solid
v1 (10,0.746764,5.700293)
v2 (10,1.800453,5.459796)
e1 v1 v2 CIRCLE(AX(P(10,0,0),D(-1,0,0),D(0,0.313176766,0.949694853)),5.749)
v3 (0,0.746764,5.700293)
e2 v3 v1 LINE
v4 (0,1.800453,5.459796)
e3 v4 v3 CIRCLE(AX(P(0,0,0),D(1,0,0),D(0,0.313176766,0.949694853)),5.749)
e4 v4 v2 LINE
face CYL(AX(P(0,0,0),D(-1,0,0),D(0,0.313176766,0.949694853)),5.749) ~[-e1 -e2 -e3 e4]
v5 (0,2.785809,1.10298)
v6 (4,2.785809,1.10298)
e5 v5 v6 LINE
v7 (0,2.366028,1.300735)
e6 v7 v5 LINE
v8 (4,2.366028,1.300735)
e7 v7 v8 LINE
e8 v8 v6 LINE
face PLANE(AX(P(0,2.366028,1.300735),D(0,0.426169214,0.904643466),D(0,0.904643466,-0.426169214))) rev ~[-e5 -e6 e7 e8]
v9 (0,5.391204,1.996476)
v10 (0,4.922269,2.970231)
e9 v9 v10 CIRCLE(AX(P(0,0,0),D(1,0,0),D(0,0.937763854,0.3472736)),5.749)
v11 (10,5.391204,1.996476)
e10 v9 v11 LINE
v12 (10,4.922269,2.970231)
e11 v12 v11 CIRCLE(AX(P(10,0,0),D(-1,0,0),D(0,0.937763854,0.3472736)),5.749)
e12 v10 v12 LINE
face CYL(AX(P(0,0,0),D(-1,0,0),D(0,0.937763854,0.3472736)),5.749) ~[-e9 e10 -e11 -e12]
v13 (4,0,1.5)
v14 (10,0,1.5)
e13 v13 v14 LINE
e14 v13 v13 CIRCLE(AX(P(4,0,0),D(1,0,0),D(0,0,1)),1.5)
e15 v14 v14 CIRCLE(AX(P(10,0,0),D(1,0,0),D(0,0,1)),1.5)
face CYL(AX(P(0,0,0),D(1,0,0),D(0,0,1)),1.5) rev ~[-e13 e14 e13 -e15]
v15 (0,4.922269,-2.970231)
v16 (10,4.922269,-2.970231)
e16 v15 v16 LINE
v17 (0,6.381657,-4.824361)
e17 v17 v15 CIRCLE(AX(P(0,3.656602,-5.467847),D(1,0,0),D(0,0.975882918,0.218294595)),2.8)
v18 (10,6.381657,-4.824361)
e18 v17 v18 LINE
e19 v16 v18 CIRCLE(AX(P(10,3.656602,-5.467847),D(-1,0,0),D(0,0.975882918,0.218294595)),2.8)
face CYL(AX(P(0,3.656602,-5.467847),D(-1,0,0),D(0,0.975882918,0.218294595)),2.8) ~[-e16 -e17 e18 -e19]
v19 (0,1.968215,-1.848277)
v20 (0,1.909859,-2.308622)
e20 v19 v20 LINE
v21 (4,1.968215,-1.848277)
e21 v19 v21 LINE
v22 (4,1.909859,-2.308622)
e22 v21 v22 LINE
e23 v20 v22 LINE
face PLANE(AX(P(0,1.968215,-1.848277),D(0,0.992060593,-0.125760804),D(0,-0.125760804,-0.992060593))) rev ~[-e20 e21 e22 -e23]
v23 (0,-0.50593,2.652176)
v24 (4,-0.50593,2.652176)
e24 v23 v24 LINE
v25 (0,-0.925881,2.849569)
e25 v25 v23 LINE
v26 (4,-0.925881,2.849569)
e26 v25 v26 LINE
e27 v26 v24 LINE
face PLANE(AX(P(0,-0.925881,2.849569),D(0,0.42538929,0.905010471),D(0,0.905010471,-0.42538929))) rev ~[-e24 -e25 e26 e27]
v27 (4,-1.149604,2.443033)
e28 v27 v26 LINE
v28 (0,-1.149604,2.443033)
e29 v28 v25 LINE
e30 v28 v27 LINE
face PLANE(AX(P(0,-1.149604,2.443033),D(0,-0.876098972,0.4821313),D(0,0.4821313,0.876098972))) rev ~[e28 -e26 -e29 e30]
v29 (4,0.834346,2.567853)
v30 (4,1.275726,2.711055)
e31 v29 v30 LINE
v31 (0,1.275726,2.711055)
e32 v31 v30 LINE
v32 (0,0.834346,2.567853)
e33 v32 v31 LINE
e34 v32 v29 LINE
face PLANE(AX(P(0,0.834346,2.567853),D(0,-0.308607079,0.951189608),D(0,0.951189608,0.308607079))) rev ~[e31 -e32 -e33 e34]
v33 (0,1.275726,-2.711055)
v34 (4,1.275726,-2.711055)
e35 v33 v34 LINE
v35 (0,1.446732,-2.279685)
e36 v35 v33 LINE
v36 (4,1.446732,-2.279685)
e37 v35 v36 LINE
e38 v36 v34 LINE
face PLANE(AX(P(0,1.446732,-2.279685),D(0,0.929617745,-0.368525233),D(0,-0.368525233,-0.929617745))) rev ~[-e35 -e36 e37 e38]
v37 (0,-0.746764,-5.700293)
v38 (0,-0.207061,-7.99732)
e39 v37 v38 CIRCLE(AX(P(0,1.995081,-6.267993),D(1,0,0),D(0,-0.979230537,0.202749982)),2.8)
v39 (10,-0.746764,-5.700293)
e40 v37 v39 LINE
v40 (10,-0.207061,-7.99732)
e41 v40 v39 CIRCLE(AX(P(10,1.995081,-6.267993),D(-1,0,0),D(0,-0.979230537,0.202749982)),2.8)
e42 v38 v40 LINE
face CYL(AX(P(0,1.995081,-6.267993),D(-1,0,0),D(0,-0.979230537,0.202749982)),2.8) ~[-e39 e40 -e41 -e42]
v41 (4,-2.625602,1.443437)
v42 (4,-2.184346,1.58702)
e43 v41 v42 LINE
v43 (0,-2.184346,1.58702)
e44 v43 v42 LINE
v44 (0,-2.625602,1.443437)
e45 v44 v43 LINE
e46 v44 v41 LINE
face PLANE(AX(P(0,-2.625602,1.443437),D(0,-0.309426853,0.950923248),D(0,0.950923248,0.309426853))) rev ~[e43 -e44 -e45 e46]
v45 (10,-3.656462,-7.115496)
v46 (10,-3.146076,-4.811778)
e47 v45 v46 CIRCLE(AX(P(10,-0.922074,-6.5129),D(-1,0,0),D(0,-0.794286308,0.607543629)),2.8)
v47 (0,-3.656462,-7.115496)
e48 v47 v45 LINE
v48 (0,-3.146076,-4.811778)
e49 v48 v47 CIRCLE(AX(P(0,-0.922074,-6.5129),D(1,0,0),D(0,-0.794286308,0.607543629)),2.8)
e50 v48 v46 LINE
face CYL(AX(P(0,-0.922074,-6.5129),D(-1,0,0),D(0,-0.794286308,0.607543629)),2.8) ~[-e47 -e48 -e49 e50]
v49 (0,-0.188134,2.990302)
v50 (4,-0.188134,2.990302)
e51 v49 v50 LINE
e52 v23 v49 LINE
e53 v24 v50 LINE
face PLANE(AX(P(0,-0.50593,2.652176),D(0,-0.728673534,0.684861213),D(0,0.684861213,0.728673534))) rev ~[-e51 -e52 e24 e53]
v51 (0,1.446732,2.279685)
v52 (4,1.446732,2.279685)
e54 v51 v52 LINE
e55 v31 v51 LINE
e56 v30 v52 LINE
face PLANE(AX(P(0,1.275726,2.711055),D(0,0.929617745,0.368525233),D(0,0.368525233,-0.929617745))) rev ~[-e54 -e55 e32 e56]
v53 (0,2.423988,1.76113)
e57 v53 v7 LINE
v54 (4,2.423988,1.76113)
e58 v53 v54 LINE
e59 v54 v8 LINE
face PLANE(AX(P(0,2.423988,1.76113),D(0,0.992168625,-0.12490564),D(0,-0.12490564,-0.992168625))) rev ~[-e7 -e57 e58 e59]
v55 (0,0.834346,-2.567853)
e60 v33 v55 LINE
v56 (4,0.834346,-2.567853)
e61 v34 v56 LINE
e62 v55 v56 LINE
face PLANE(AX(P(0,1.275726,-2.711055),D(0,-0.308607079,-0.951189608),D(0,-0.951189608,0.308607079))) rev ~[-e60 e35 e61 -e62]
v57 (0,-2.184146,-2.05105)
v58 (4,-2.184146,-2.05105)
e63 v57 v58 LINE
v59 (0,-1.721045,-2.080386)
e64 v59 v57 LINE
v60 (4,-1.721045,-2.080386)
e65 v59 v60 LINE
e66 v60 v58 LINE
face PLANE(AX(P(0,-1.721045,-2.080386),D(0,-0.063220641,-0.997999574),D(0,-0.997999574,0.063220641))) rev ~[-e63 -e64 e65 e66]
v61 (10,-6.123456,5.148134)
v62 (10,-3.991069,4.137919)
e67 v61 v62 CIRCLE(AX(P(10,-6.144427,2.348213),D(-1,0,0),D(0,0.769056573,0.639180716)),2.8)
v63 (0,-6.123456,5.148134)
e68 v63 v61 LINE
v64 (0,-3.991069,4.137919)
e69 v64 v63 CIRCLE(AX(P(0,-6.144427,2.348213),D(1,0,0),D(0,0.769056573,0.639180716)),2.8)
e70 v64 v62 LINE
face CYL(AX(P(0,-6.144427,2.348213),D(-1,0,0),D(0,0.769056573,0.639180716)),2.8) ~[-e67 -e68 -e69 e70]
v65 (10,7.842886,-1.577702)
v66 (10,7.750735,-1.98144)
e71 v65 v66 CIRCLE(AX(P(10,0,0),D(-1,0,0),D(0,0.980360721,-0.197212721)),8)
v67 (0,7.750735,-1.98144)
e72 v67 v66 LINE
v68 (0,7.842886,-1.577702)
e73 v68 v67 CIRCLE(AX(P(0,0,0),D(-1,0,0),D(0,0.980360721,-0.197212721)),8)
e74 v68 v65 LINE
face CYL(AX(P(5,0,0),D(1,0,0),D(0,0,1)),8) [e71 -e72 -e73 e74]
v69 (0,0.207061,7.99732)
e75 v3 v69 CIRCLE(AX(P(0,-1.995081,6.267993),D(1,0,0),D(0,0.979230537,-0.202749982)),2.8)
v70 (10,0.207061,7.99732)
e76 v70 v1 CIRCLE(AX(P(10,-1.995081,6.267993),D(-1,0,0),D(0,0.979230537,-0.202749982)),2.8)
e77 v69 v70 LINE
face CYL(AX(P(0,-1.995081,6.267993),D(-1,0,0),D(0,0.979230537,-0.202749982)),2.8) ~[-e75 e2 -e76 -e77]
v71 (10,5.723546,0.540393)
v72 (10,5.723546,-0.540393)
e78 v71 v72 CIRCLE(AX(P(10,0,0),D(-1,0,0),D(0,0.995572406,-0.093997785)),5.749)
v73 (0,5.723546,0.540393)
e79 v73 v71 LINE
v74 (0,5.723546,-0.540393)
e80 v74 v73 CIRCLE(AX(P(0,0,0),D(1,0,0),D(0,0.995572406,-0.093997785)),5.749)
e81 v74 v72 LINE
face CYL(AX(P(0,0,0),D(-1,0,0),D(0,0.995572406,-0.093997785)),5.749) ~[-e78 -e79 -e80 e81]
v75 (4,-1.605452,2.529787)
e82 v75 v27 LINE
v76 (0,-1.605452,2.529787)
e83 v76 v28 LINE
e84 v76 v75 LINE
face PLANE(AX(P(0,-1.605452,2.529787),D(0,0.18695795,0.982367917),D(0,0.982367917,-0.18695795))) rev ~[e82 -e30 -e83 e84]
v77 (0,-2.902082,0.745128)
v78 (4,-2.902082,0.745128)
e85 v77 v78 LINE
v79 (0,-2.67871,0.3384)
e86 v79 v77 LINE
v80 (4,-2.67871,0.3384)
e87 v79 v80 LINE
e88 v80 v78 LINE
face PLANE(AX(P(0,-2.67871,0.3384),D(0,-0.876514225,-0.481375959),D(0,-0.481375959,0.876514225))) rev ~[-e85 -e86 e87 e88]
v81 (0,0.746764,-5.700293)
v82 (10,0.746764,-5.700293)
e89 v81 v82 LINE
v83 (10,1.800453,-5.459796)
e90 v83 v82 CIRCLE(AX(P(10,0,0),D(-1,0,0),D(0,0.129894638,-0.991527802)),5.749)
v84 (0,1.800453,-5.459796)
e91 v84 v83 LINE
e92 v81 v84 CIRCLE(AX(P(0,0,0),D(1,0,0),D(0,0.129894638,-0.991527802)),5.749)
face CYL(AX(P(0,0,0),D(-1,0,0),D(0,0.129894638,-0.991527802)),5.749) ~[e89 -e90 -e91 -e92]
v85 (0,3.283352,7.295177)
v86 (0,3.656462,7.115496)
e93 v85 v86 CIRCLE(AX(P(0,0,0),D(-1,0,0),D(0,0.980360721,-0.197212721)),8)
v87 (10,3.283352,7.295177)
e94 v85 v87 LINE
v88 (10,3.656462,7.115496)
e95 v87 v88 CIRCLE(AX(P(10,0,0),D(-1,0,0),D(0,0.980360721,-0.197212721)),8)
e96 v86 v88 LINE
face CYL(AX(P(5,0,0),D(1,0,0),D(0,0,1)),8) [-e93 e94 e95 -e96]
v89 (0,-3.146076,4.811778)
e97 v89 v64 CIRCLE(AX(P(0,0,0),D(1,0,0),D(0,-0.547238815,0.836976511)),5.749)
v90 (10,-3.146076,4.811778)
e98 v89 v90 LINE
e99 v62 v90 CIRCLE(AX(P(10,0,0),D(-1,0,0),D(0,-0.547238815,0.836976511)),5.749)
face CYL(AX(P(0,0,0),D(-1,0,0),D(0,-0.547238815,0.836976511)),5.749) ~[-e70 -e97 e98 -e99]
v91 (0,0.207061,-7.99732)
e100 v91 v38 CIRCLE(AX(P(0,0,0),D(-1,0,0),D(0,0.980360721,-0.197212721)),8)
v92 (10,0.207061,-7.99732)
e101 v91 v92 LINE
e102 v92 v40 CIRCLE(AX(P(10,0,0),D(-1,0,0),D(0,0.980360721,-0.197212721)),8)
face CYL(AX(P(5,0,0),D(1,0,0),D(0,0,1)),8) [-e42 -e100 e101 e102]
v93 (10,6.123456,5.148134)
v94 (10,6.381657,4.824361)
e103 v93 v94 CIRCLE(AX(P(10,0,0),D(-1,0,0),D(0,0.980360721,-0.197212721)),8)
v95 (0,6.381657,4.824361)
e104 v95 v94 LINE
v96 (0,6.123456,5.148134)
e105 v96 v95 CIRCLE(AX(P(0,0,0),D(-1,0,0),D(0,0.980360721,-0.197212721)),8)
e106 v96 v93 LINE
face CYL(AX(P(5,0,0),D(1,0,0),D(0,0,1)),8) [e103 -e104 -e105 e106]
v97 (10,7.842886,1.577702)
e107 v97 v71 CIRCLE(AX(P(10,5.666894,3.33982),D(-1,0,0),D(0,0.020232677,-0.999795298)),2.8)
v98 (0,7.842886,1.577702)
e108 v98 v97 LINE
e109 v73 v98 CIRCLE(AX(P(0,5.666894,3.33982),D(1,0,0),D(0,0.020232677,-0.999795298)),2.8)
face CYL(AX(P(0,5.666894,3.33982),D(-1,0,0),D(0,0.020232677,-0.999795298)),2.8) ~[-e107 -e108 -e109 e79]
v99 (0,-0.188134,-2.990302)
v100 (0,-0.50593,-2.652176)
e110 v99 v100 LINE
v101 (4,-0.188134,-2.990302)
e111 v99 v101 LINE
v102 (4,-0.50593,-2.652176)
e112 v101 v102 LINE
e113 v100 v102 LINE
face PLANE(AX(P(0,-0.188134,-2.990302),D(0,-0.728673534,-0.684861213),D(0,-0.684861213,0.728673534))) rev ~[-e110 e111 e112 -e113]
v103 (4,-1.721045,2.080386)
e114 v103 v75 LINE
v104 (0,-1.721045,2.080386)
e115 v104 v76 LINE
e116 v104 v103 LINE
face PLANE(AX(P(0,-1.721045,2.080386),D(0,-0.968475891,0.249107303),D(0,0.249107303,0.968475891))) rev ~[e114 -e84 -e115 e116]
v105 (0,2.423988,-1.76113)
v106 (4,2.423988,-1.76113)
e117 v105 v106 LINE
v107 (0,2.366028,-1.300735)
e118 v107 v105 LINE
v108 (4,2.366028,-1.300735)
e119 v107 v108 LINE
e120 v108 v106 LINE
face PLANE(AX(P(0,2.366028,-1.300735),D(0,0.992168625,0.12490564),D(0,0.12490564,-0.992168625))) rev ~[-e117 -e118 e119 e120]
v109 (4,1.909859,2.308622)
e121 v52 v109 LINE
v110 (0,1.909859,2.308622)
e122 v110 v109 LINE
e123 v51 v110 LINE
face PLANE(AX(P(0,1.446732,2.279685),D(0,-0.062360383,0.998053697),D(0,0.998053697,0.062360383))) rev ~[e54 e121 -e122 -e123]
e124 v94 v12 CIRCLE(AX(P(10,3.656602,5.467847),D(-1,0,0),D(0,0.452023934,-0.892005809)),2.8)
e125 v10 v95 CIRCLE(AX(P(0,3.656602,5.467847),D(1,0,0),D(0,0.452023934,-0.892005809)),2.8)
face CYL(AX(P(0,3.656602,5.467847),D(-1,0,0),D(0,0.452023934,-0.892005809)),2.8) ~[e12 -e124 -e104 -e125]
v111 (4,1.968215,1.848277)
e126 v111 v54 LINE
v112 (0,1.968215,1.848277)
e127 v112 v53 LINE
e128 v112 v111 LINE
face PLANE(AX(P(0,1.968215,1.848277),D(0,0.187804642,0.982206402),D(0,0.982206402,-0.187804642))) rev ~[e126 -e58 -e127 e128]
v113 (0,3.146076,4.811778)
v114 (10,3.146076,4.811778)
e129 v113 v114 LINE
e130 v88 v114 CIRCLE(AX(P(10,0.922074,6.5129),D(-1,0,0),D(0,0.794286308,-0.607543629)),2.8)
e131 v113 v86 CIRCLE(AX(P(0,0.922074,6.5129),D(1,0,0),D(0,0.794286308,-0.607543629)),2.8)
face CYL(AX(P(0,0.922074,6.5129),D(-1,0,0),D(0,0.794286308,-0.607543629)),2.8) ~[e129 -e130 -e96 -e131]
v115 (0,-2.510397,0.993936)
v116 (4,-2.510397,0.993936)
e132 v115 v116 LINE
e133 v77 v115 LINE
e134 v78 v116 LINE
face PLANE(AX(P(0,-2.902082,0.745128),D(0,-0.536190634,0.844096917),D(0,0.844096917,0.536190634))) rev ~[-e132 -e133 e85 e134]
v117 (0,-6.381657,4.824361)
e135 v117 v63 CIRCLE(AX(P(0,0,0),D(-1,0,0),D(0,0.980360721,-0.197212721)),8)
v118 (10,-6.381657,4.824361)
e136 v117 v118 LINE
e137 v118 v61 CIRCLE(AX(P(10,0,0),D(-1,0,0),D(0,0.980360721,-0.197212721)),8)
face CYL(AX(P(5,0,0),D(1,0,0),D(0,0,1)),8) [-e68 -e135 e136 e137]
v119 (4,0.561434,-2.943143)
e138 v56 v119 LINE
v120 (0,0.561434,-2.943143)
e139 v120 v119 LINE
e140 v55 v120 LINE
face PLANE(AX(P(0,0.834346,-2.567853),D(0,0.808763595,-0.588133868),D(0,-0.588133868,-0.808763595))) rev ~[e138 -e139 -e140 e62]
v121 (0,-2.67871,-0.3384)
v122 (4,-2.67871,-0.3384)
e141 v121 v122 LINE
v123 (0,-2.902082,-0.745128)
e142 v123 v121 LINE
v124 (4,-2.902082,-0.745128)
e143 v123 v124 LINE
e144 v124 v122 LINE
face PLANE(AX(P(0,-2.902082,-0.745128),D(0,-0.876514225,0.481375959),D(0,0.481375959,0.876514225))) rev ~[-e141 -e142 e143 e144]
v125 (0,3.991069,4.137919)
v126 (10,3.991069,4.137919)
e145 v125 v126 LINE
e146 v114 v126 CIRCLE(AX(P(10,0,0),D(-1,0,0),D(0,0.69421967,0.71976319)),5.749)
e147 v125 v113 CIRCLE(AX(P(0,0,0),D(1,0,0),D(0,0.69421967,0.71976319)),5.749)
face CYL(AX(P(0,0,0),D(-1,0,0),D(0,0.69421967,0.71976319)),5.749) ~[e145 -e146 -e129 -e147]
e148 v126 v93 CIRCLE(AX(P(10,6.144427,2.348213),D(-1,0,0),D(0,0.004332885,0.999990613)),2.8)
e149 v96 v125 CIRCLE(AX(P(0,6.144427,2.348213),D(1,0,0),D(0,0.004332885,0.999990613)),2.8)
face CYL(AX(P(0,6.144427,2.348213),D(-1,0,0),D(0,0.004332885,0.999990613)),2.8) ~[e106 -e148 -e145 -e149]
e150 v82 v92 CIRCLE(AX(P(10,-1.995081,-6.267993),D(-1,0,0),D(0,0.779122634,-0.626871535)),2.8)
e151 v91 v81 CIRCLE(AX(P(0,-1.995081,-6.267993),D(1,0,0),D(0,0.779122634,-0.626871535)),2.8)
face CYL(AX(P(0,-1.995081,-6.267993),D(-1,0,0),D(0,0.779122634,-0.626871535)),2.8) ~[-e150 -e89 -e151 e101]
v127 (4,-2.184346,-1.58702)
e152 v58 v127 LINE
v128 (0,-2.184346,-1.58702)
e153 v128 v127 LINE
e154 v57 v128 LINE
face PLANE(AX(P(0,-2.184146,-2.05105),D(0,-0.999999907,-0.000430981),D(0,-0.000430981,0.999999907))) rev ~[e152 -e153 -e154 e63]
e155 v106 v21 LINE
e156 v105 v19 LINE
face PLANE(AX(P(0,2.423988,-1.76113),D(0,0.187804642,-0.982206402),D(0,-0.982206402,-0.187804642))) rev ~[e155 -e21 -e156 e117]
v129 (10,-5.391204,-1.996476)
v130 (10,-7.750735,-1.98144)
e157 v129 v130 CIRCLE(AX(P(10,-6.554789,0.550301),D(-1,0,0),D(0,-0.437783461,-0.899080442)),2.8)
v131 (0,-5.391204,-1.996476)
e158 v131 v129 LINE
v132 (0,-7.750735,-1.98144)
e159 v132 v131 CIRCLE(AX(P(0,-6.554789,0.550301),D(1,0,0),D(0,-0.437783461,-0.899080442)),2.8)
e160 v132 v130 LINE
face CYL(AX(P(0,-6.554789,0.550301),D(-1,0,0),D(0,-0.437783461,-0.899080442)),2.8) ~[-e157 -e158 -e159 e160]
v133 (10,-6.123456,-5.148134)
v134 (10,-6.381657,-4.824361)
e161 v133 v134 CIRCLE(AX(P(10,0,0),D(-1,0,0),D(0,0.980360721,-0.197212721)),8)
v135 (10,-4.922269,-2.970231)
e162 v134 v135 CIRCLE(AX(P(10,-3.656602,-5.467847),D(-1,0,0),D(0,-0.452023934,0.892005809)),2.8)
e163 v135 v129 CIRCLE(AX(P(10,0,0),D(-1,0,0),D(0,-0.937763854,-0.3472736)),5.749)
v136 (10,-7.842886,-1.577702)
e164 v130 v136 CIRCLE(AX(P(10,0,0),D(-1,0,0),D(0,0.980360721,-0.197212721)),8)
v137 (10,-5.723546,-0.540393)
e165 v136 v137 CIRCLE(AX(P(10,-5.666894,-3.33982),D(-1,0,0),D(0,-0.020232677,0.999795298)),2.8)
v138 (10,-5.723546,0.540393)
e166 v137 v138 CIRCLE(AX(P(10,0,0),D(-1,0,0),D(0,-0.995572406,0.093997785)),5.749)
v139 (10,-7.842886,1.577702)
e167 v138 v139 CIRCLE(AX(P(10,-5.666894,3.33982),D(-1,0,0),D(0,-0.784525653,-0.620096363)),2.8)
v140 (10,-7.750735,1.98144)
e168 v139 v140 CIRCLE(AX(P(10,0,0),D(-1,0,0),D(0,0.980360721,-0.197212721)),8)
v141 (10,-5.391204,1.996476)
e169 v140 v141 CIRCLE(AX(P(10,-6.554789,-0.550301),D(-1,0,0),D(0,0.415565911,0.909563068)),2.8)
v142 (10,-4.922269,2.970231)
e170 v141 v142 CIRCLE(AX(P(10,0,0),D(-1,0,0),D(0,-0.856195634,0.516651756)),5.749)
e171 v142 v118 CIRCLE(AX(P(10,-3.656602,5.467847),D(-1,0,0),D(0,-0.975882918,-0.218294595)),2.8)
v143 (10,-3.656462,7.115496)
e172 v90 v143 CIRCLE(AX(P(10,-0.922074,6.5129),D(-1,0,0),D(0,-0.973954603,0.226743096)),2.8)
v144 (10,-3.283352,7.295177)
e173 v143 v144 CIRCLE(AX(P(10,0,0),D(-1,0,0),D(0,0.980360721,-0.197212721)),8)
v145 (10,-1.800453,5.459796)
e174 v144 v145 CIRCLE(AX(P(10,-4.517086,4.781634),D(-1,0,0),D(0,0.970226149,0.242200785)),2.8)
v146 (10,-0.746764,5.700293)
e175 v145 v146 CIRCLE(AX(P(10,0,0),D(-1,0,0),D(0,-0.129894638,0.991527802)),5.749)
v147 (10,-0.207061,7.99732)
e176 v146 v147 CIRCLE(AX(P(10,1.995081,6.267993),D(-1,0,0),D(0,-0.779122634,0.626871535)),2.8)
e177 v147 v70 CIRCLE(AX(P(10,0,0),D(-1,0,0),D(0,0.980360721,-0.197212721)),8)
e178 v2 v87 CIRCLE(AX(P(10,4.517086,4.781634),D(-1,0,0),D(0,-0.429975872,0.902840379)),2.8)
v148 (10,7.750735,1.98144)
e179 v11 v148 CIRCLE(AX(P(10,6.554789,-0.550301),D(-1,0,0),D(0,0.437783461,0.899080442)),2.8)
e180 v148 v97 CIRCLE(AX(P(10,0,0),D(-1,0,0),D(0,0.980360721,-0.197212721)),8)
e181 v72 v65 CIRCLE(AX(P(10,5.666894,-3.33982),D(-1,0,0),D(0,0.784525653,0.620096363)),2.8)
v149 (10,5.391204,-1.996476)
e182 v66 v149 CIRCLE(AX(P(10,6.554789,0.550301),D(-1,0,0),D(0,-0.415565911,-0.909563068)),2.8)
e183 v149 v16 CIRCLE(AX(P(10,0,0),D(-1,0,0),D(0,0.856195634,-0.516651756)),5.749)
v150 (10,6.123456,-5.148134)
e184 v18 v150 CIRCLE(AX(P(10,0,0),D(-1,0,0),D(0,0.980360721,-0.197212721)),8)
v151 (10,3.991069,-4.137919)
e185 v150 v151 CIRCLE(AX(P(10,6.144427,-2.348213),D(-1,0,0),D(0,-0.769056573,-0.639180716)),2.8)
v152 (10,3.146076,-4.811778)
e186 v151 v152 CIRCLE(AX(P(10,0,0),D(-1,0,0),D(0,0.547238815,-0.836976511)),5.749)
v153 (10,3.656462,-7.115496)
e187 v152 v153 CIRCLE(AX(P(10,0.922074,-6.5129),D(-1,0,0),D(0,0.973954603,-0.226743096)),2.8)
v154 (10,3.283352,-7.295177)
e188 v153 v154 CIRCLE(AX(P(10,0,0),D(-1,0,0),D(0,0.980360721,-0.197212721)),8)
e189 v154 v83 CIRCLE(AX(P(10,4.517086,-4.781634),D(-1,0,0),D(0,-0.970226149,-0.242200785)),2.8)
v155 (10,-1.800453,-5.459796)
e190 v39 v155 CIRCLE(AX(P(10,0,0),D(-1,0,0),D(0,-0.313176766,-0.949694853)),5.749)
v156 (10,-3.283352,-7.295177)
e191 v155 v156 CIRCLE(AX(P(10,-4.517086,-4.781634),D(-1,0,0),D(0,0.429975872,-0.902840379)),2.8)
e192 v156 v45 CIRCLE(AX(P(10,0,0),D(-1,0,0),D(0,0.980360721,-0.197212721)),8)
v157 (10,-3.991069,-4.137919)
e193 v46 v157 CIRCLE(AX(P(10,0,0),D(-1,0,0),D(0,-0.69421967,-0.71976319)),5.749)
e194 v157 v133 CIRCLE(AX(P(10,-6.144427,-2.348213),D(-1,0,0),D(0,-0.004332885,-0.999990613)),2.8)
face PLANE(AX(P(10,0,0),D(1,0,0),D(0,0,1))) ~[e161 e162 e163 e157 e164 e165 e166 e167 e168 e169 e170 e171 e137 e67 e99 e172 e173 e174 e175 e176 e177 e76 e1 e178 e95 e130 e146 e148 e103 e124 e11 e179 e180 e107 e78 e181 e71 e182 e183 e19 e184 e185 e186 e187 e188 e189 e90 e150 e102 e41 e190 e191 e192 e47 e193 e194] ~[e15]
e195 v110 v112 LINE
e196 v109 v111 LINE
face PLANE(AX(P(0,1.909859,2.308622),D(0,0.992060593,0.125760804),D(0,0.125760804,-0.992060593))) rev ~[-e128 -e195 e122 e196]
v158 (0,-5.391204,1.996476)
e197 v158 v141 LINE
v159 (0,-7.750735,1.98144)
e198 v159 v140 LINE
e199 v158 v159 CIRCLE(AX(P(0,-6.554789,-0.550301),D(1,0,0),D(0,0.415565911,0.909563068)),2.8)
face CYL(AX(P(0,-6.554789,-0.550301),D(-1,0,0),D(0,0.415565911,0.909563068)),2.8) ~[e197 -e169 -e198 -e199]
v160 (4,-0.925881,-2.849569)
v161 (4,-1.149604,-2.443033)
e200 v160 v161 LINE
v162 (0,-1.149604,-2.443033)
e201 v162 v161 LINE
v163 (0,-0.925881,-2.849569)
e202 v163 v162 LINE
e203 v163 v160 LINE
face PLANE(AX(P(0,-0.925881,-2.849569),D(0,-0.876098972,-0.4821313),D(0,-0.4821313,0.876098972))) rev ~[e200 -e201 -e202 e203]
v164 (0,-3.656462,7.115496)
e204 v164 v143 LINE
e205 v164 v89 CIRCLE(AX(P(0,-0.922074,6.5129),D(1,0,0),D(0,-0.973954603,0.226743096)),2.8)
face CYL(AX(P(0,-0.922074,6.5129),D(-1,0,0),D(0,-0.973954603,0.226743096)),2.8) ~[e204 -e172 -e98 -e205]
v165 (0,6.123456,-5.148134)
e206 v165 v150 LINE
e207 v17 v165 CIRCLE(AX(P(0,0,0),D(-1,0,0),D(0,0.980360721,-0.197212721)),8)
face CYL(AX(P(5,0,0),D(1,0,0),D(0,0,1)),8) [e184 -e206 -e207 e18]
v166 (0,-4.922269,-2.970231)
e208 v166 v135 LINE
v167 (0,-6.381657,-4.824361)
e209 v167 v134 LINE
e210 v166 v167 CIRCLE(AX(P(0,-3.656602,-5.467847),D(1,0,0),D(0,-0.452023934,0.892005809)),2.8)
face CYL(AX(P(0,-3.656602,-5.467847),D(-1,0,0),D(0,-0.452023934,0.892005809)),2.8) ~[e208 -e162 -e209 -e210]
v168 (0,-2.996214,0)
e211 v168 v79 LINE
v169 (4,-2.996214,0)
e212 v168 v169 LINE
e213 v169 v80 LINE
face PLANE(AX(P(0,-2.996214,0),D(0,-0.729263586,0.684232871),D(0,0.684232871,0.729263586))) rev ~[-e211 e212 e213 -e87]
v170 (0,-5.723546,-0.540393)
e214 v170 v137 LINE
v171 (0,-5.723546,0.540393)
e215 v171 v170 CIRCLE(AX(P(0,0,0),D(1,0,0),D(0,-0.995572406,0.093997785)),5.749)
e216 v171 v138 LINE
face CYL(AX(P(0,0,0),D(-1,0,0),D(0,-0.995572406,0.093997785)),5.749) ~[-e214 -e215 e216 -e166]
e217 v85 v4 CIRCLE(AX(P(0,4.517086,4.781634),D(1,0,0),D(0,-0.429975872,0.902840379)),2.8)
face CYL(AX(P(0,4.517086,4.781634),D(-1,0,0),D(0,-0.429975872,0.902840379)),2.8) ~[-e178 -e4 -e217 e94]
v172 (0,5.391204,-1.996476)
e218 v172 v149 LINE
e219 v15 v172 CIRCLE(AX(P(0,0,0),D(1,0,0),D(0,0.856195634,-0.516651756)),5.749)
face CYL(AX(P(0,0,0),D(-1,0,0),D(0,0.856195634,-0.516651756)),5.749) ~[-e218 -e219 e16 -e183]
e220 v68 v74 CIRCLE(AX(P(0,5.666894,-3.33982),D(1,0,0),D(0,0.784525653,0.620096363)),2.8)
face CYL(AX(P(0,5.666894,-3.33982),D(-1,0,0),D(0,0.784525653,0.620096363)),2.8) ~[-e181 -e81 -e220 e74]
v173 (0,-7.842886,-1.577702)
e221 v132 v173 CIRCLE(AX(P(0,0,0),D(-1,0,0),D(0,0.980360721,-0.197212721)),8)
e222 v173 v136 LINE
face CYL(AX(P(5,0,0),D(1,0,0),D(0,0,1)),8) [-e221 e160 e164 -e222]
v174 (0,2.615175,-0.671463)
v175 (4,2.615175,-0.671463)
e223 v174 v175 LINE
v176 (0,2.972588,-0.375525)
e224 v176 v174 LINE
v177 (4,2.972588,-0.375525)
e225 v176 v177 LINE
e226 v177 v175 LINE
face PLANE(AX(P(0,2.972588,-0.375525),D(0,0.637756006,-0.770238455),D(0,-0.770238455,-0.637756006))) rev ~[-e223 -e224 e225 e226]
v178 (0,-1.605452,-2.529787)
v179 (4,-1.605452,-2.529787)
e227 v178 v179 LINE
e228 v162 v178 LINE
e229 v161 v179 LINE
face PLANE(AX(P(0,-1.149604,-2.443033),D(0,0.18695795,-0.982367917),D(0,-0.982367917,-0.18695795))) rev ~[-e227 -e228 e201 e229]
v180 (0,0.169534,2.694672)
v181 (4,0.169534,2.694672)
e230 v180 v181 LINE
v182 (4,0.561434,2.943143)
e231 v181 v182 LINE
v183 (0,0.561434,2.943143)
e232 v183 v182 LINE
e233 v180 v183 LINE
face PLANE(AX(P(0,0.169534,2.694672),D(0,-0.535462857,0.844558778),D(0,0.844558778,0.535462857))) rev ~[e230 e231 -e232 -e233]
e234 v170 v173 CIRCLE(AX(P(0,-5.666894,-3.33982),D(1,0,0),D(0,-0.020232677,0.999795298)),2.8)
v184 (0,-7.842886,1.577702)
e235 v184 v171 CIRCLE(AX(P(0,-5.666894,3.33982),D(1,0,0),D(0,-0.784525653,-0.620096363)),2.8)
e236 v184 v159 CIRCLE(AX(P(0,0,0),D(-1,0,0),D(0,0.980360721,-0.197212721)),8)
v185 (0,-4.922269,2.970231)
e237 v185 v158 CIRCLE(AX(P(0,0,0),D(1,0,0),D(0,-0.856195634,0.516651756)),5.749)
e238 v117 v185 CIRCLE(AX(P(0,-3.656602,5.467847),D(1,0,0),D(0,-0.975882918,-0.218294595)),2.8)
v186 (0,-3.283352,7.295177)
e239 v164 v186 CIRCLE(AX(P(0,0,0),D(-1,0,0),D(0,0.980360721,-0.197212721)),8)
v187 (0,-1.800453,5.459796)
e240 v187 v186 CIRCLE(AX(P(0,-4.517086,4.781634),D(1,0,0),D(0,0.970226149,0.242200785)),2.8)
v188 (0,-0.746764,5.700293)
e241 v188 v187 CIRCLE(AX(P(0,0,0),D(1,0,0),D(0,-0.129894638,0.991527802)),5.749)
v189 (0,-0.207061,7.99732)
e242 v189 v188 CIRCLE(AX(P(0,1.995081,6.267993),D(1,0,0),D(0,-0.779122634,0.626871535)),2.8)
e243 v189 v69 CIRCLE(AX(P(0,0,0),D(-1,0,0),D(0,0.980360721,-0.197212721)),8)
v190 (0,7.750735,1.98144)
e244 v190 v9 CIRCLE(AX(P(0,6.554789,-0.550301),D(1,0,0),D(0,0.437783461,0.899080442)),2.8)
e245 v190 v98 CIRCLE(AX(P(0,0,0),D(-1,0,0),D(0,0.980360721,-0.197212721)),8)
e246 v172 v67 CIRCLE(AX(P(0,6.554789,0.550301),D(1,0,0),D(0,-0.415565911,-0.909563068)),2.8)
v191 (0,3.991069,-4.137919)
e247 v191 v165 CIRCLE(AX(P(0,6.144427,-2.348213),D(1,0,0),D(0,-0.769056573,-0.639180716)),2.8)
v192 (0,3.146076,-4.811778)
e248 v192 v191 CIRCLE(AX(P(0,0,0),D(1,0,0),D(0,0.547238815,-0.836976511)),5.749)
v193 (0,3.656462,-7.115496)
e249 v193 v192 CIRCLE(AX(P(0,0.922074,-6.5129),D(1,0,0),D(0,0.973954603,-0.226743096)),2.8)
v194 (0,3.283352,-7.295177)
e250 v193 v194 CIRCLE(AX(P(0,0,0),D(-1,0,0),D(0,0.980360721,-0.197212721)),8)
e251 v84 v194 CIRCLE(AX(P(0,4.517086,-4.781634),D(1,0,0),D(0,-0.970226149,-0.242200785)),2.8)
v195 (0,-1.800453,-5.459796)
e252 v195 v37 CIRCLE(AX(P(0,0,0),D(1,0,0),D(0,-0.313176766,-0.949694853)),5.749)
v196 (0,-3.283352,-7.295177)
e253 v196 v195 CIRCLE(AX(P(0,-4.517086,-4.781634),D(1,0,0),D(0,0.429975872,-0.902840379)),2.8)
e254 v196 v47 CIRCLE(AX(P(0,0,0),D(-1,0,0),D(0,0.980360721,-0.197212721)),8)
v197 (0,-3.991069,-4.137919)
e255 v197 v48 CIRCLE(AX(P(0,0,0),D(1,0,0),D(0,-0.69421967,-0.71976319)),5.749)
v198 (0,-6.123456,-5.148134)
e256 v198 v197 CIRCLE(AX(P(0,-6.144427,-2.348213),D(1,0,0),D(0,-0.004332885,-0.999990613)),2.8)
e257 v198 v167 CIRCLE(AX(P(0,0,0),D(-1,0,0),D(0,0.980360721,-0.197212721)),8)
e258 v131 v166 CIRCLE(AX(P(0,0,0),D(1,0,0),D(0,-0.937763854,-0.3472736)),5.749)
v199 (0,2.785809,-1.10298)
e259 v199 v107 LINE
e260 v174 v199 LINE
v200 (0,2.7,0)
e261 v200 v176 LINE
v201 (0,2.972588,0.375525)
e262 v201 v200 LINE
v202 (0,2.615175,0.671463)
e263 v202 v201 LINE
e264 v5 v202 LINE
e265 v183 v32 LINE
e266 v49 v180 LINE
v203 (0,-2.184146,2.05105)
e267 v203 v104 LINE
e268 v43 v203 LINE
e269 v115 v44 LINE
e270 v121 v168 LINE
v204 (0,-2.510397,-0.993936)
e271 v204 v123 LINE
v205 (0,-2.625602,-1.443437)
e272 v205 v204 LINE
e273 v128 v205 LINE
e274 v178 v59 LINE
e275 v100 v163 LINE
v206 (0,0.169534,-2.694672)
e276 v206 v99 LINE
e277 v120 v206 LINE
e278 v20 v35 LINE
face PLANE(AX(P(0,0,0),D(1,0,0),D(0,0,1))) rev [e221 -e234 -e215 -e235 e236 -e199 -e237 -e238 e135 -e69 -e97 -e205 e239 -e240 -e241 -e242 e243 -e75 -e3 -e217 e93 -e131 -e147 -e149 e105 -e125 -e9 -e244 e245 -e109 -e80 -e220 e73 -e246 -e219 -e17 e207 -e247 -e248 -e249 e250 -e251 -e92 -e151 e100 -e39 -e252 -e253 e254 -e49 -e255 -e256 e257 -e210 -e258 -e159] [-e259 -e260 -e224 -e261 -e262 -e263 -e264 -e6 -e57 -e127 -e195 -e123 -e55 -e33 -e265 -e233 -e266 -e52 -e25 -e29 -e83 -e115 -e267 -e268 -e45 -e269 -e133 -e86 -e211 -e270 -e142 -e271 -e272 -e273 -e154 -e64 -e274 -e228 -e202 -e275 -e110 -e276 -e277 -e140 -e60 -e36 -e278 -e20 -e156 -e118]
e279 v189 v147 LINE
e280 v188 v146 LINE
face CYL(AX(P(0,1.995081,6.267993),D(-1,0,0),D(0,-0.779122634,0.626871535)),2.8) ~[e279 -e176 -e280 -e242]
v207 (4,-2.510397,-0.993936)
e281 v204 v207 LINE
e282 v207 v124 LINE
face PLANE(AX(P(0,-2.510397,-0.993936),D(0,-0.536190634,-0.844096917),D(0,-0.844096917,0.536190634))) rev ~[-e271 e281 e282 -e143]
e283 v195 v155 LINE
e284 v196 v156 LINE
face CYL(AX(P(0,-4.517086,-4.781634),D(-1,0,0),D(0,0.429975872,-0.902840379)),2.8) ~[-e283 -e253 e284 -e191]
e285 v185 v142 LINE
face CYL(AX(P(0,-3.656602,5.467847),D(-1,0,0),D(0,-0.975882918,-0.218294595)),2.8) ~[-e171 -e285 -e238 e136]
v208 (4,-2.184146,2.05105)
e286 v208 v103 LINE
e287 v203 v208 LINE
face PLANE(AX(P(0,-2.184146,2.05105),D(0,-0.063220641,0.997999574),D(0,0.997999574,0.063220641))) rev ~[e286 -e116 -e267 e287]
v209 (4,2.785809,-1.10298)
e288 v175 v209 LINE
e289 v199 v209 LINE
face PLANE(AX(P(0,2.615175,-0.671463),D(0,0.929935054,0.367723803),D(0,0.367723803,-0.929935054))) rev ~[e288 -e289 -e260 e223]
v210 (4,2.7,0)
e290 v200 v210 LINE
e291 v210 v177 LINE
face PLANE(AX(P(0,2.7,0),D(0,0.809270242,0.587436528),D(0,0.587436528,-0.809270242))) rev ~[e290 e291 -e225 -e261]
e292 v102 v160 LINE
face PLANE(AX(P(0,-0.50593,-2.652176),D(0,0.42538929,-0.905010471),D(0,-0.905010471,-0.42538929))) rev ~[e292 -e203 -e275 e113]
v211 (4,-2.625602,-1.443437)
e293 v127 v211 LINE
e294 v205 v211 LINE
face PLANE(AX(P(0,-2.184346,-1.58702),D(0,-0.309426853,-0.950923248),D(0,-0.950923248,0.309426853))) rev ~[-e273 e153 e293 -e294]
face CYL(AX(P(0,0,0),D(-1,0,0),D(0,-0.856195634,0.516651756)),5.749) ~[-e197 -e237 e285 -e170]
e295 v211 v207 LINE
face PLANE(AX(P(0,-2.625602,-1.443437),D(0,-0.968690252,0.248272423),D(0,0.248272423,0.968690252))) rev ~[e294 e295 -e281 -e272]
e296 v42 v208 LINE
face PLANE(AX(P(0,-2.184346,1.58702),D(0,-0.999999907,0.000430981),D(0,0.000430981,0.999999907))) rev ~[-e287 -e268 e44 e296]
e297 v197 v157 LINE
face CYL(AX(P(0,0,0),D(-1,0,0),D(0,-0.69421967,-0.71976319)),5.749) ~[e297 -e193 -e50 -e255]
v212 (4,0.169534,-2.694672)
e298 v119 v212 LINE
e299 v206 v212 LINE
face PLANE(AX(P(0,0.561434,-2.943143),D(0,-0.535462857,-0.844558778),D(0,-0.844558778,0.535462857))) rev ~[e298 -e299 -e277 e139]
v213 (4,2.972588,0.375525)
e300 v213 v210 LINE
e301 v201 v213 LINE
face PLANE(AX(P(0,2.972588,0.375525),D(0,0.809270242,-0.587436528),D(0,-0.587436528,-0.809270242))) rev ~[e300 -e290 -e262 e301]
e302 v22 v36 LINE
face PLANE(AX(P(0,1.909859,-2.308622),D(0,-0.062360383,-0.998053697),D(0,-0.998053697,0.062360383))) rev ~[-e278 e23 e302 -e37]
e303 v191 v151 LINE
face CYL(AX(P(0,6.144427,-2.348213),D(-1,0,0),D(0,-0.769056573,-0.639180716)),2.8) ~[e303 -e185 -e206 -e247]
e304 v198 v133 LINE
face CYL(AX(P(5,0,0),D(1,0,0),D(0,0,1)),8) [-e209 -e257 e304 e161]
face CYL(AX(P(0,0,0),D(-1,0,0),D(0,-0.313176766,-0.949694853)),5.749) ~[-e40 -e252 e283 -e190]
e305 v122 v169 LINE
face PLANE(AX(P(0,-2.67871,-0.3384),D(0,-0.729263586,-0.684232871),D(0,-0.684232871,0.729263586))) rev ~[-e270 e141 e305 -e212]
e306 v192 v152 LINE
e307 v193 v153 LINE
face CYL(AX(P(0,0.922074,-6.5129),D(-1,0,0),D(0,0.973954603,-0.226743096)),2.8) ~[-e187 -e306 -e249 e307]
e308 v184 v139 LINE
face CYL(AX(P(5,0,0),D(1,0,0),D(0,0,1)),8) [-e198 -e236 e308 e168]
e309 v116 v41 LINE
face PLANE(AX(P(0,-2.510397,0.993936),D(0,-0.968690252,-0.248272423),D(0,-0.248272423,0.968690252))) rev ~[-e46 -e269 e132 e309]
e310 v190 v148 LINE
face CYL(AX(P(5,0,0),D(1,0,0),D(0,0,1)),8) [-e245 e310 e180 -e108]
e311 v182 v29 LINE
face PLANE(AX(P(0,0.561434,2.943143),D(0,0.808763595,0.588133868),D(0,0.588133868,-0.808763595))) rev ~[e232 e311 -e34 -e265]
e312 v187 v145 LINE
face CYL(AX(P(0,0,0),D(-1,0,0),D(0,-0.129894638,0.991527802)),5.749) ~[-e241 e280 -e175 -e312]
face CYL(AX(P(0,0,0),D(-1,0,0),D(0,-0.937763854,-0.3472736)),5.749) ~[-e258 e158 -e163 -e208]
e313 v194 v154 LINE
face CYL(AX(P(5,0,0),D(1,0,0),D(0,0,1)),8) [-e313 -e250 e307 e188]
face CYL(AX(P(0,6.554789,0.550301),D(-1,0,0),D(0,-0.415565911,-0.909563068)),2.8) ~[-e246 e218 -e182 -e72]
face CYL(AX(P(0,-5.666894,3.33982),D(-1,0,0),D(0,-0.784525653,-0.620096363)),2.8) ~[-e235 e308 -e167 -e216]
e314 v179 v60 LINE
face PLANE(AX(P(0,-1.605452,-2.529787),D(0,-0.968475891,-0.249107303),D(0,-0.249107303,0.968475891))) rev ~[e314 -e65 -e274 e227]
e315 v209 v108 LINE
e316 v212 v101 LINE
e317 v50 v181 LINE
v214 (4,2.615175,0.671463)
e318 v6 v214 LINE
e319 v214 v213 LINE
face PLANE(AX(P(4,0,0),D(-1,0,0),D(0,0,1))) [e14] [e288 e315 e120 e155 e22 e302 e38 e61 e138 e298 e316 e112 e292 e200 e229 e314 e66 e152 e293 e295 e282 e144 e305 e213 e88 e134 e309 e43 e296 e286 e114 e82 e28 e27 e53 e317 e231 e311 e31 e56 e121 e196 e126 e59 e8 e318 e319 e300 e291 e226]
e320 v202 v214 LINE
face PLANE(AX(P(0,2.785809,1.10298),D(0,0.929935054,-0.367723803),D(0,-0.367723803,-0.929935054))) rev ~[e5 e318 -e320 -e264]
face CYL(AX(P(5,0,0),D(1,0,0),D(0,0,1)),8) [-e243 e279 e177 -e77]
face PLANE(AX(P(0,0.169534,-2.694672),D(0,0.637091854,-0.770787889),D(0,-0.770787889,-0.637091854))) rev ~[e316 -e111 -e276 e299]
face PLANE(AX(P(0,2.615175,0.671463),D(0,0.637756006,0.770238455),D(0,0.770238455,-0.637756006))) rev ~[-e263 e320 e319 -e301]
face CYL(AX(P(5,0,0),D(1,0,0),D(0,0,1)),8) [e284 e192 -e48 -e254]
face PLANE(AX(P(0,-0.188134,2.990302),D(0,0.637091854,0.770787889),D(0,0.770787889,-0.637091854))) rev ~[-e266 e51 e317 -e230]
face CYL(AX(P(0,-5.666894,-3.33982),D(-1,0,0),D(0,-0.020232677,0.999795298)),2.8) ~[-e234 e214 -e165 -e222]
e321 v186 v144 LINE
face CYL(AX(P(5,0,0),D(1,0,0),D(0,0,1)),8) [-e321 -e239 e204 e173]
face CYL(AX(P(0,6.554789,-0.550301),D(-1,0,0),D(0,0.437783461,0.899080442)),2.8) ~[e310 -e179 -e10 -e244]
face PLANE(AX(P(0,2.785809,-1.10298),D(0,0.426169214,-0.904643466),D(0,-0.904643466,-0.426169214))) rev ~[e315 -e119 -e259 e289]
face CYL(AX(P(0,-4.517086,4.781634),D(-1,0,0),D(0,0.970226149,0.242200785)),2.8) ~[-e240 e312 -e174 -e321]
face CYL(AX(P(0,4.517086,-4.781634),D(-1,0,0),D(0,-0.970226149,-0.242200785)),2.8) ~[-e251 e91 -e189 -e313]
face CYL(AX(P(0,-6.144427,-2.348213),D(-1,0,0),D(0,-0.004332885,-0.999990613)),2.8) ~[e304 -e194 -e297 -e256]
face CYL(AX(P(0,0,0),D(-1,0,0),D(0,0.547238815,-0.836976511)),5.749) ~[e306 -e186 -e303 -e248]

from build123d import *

# Parameters (mm, degrees)
BASPROSKE_W        = 10
BASPROSKE_H        = 8
TOOTHCUT_DEPTH     = 16.099668871
TEETHCUTS_COUNT    = 14
TEETHCUTS_ANGLE    = 334.285714286
BORSKE_R           = 1.5
BORE_DEPTH         = 50.0000508
CUT_EXTRUDE1_DEPTH = 4


with BuildPart() as part:
    # BasProSke → Base-Revolve (revolve)
    with BuildSketch(Plane(origin=(0, 0, 0), x_dir=(1, 0, 0), z_dir=(0, 1, 0)), mode=Mode.PRIVATE) as base_revolve_sk:
        with Locations((5, 4)):
            Rectangle(BASPROSKE_W, BASPROSKE_H)
    revolve(base_revolve_sk.sketch.rotate(Axis((-10, 0, 0), (1, 0, 0)), 180), axis=Axis((-10, 0, 0), (1, 0, 0)))

    # TooCutSke → ToothCut (cut, through all)
    with BuildSketch(Plane(origin=(0, 0, 0), x_dir=(0, 0, -1), z_dir=(1, 0, 0))):
        with BuildLine():
            ThreePointArc((0.540393256, 5.723545765), (0, 5.749), (-0.540393256, 5.723545765))
            ThreePointArc((-0.540393256, 5.723545765), (-0.832220085, 6.912663993), (-1.603550271, 7.863566092))
            ThreePointArc((-1.603550271, 7.863566092), (0, 8.0254), (1.603550271, 7.863566092))
            ThreePointArc((1.603550271, 7.863566092), (0.832220085, 6.912663993), (0.540393256, 5.723545765))
        make_face()
    toothcut = extrude(amount=TOOTHCUT_DEPTH, mode=Mode.SUBTRACT)

    # TeethCuts: ToothCut ×14 about axis
    teethcuts_axis = Axis((-10, 0, 0), (1, 0, 0))
    for i in range(1, TEETHCUTS_COUNT):
        add(toothcut.rotate(teethcuts_axis, i * TEETHCUTS_ANGLE / (TEETHCUTS_COUNT - 1)), mode=Mode.SUBTRACT)

    # BorSke → Bore (cut, symmetric)
    with BuildSketch(Plane(origin=(0, 0, 0), x_dir=(0, 0, -1), z_dir=(1, 0, 0))):
        with Locations(Location((0, 0, 0), (0, 0, 180))):
            Circle(BORSKE_R)
    extrude(amount=BORE_DEPTH, both=True, mode=Mode.SUBTRACT)

    # Sketch1 → Cut-Extrude1 (cut)
    with BuildSketch(Plane.ZY):
        Polygon((0.37552517, 2.972587809), (0, 2.7), (-0.37552517, 2.972587809), (-0.671462695, 2.615174535), (-1.102979883, 2.785809184), (-1.30073492, 2.366028036), (-1.761130314, 2.423987923), (-1.848277186, 1.968215294), (-2.308622449, 1.909858586), (-2.279685399, 1.446732346), (-2.711055346, 1.27572581), (-2.567852594, 0.834345885), (-2.943142665, 0.56143449), (-2.694672167, 0.169534403), (-2.990301506, -0.188133824), (-2.652175577, -0.505929549), (-2.849568706, -0.925880998), (-2.443033042, -1.149604087), (-2.529787024, -1.605451664), (-2.080385755, -1.721044772), (-2.05104952, -2.184145897), (-1.587020181, -2.184345885), (-1.44343703, -2.625602211), (-0.993936292, -2.510396512), (-0.745128084, -2.902082282), (-0.338399731, -2.678709694), (0, -2.99621385), (0.338399731, -2.678709694), (0.745128084, -2.902082282), (0.993936292, -2.510396512), (1.44343703, -2.625602211), (1.587020181, -2.184345885), (2.05104952, -2.184145897), (2.080385755, -1.721044772), (2.529787024, -1.605451664), (2.443033042, -1.149604087), (2.849568706, -0.925880998), (2.652175577, -0.505929549), (2.990301506, -0.188133824), (2.694672167, 0.169534403), (2.943142665, 0.56143449), (2.567852594, 0.834345885), (2.711055346, 1.27572581), (2.279685399, 1.446732346), (2.308622449, 1.909858586), (1.848277186, 1.968215294), (1.761130314, 2.423987923), (1.30073492, 2.366028036), (1.102979883, 2.785809184), (0.671462695, 2.615174535), align=None)
    extrude(amount=-CUT_EXTRUDE1_DEPTH, mode=Mode.SUBTRACT)


solid = part.part
